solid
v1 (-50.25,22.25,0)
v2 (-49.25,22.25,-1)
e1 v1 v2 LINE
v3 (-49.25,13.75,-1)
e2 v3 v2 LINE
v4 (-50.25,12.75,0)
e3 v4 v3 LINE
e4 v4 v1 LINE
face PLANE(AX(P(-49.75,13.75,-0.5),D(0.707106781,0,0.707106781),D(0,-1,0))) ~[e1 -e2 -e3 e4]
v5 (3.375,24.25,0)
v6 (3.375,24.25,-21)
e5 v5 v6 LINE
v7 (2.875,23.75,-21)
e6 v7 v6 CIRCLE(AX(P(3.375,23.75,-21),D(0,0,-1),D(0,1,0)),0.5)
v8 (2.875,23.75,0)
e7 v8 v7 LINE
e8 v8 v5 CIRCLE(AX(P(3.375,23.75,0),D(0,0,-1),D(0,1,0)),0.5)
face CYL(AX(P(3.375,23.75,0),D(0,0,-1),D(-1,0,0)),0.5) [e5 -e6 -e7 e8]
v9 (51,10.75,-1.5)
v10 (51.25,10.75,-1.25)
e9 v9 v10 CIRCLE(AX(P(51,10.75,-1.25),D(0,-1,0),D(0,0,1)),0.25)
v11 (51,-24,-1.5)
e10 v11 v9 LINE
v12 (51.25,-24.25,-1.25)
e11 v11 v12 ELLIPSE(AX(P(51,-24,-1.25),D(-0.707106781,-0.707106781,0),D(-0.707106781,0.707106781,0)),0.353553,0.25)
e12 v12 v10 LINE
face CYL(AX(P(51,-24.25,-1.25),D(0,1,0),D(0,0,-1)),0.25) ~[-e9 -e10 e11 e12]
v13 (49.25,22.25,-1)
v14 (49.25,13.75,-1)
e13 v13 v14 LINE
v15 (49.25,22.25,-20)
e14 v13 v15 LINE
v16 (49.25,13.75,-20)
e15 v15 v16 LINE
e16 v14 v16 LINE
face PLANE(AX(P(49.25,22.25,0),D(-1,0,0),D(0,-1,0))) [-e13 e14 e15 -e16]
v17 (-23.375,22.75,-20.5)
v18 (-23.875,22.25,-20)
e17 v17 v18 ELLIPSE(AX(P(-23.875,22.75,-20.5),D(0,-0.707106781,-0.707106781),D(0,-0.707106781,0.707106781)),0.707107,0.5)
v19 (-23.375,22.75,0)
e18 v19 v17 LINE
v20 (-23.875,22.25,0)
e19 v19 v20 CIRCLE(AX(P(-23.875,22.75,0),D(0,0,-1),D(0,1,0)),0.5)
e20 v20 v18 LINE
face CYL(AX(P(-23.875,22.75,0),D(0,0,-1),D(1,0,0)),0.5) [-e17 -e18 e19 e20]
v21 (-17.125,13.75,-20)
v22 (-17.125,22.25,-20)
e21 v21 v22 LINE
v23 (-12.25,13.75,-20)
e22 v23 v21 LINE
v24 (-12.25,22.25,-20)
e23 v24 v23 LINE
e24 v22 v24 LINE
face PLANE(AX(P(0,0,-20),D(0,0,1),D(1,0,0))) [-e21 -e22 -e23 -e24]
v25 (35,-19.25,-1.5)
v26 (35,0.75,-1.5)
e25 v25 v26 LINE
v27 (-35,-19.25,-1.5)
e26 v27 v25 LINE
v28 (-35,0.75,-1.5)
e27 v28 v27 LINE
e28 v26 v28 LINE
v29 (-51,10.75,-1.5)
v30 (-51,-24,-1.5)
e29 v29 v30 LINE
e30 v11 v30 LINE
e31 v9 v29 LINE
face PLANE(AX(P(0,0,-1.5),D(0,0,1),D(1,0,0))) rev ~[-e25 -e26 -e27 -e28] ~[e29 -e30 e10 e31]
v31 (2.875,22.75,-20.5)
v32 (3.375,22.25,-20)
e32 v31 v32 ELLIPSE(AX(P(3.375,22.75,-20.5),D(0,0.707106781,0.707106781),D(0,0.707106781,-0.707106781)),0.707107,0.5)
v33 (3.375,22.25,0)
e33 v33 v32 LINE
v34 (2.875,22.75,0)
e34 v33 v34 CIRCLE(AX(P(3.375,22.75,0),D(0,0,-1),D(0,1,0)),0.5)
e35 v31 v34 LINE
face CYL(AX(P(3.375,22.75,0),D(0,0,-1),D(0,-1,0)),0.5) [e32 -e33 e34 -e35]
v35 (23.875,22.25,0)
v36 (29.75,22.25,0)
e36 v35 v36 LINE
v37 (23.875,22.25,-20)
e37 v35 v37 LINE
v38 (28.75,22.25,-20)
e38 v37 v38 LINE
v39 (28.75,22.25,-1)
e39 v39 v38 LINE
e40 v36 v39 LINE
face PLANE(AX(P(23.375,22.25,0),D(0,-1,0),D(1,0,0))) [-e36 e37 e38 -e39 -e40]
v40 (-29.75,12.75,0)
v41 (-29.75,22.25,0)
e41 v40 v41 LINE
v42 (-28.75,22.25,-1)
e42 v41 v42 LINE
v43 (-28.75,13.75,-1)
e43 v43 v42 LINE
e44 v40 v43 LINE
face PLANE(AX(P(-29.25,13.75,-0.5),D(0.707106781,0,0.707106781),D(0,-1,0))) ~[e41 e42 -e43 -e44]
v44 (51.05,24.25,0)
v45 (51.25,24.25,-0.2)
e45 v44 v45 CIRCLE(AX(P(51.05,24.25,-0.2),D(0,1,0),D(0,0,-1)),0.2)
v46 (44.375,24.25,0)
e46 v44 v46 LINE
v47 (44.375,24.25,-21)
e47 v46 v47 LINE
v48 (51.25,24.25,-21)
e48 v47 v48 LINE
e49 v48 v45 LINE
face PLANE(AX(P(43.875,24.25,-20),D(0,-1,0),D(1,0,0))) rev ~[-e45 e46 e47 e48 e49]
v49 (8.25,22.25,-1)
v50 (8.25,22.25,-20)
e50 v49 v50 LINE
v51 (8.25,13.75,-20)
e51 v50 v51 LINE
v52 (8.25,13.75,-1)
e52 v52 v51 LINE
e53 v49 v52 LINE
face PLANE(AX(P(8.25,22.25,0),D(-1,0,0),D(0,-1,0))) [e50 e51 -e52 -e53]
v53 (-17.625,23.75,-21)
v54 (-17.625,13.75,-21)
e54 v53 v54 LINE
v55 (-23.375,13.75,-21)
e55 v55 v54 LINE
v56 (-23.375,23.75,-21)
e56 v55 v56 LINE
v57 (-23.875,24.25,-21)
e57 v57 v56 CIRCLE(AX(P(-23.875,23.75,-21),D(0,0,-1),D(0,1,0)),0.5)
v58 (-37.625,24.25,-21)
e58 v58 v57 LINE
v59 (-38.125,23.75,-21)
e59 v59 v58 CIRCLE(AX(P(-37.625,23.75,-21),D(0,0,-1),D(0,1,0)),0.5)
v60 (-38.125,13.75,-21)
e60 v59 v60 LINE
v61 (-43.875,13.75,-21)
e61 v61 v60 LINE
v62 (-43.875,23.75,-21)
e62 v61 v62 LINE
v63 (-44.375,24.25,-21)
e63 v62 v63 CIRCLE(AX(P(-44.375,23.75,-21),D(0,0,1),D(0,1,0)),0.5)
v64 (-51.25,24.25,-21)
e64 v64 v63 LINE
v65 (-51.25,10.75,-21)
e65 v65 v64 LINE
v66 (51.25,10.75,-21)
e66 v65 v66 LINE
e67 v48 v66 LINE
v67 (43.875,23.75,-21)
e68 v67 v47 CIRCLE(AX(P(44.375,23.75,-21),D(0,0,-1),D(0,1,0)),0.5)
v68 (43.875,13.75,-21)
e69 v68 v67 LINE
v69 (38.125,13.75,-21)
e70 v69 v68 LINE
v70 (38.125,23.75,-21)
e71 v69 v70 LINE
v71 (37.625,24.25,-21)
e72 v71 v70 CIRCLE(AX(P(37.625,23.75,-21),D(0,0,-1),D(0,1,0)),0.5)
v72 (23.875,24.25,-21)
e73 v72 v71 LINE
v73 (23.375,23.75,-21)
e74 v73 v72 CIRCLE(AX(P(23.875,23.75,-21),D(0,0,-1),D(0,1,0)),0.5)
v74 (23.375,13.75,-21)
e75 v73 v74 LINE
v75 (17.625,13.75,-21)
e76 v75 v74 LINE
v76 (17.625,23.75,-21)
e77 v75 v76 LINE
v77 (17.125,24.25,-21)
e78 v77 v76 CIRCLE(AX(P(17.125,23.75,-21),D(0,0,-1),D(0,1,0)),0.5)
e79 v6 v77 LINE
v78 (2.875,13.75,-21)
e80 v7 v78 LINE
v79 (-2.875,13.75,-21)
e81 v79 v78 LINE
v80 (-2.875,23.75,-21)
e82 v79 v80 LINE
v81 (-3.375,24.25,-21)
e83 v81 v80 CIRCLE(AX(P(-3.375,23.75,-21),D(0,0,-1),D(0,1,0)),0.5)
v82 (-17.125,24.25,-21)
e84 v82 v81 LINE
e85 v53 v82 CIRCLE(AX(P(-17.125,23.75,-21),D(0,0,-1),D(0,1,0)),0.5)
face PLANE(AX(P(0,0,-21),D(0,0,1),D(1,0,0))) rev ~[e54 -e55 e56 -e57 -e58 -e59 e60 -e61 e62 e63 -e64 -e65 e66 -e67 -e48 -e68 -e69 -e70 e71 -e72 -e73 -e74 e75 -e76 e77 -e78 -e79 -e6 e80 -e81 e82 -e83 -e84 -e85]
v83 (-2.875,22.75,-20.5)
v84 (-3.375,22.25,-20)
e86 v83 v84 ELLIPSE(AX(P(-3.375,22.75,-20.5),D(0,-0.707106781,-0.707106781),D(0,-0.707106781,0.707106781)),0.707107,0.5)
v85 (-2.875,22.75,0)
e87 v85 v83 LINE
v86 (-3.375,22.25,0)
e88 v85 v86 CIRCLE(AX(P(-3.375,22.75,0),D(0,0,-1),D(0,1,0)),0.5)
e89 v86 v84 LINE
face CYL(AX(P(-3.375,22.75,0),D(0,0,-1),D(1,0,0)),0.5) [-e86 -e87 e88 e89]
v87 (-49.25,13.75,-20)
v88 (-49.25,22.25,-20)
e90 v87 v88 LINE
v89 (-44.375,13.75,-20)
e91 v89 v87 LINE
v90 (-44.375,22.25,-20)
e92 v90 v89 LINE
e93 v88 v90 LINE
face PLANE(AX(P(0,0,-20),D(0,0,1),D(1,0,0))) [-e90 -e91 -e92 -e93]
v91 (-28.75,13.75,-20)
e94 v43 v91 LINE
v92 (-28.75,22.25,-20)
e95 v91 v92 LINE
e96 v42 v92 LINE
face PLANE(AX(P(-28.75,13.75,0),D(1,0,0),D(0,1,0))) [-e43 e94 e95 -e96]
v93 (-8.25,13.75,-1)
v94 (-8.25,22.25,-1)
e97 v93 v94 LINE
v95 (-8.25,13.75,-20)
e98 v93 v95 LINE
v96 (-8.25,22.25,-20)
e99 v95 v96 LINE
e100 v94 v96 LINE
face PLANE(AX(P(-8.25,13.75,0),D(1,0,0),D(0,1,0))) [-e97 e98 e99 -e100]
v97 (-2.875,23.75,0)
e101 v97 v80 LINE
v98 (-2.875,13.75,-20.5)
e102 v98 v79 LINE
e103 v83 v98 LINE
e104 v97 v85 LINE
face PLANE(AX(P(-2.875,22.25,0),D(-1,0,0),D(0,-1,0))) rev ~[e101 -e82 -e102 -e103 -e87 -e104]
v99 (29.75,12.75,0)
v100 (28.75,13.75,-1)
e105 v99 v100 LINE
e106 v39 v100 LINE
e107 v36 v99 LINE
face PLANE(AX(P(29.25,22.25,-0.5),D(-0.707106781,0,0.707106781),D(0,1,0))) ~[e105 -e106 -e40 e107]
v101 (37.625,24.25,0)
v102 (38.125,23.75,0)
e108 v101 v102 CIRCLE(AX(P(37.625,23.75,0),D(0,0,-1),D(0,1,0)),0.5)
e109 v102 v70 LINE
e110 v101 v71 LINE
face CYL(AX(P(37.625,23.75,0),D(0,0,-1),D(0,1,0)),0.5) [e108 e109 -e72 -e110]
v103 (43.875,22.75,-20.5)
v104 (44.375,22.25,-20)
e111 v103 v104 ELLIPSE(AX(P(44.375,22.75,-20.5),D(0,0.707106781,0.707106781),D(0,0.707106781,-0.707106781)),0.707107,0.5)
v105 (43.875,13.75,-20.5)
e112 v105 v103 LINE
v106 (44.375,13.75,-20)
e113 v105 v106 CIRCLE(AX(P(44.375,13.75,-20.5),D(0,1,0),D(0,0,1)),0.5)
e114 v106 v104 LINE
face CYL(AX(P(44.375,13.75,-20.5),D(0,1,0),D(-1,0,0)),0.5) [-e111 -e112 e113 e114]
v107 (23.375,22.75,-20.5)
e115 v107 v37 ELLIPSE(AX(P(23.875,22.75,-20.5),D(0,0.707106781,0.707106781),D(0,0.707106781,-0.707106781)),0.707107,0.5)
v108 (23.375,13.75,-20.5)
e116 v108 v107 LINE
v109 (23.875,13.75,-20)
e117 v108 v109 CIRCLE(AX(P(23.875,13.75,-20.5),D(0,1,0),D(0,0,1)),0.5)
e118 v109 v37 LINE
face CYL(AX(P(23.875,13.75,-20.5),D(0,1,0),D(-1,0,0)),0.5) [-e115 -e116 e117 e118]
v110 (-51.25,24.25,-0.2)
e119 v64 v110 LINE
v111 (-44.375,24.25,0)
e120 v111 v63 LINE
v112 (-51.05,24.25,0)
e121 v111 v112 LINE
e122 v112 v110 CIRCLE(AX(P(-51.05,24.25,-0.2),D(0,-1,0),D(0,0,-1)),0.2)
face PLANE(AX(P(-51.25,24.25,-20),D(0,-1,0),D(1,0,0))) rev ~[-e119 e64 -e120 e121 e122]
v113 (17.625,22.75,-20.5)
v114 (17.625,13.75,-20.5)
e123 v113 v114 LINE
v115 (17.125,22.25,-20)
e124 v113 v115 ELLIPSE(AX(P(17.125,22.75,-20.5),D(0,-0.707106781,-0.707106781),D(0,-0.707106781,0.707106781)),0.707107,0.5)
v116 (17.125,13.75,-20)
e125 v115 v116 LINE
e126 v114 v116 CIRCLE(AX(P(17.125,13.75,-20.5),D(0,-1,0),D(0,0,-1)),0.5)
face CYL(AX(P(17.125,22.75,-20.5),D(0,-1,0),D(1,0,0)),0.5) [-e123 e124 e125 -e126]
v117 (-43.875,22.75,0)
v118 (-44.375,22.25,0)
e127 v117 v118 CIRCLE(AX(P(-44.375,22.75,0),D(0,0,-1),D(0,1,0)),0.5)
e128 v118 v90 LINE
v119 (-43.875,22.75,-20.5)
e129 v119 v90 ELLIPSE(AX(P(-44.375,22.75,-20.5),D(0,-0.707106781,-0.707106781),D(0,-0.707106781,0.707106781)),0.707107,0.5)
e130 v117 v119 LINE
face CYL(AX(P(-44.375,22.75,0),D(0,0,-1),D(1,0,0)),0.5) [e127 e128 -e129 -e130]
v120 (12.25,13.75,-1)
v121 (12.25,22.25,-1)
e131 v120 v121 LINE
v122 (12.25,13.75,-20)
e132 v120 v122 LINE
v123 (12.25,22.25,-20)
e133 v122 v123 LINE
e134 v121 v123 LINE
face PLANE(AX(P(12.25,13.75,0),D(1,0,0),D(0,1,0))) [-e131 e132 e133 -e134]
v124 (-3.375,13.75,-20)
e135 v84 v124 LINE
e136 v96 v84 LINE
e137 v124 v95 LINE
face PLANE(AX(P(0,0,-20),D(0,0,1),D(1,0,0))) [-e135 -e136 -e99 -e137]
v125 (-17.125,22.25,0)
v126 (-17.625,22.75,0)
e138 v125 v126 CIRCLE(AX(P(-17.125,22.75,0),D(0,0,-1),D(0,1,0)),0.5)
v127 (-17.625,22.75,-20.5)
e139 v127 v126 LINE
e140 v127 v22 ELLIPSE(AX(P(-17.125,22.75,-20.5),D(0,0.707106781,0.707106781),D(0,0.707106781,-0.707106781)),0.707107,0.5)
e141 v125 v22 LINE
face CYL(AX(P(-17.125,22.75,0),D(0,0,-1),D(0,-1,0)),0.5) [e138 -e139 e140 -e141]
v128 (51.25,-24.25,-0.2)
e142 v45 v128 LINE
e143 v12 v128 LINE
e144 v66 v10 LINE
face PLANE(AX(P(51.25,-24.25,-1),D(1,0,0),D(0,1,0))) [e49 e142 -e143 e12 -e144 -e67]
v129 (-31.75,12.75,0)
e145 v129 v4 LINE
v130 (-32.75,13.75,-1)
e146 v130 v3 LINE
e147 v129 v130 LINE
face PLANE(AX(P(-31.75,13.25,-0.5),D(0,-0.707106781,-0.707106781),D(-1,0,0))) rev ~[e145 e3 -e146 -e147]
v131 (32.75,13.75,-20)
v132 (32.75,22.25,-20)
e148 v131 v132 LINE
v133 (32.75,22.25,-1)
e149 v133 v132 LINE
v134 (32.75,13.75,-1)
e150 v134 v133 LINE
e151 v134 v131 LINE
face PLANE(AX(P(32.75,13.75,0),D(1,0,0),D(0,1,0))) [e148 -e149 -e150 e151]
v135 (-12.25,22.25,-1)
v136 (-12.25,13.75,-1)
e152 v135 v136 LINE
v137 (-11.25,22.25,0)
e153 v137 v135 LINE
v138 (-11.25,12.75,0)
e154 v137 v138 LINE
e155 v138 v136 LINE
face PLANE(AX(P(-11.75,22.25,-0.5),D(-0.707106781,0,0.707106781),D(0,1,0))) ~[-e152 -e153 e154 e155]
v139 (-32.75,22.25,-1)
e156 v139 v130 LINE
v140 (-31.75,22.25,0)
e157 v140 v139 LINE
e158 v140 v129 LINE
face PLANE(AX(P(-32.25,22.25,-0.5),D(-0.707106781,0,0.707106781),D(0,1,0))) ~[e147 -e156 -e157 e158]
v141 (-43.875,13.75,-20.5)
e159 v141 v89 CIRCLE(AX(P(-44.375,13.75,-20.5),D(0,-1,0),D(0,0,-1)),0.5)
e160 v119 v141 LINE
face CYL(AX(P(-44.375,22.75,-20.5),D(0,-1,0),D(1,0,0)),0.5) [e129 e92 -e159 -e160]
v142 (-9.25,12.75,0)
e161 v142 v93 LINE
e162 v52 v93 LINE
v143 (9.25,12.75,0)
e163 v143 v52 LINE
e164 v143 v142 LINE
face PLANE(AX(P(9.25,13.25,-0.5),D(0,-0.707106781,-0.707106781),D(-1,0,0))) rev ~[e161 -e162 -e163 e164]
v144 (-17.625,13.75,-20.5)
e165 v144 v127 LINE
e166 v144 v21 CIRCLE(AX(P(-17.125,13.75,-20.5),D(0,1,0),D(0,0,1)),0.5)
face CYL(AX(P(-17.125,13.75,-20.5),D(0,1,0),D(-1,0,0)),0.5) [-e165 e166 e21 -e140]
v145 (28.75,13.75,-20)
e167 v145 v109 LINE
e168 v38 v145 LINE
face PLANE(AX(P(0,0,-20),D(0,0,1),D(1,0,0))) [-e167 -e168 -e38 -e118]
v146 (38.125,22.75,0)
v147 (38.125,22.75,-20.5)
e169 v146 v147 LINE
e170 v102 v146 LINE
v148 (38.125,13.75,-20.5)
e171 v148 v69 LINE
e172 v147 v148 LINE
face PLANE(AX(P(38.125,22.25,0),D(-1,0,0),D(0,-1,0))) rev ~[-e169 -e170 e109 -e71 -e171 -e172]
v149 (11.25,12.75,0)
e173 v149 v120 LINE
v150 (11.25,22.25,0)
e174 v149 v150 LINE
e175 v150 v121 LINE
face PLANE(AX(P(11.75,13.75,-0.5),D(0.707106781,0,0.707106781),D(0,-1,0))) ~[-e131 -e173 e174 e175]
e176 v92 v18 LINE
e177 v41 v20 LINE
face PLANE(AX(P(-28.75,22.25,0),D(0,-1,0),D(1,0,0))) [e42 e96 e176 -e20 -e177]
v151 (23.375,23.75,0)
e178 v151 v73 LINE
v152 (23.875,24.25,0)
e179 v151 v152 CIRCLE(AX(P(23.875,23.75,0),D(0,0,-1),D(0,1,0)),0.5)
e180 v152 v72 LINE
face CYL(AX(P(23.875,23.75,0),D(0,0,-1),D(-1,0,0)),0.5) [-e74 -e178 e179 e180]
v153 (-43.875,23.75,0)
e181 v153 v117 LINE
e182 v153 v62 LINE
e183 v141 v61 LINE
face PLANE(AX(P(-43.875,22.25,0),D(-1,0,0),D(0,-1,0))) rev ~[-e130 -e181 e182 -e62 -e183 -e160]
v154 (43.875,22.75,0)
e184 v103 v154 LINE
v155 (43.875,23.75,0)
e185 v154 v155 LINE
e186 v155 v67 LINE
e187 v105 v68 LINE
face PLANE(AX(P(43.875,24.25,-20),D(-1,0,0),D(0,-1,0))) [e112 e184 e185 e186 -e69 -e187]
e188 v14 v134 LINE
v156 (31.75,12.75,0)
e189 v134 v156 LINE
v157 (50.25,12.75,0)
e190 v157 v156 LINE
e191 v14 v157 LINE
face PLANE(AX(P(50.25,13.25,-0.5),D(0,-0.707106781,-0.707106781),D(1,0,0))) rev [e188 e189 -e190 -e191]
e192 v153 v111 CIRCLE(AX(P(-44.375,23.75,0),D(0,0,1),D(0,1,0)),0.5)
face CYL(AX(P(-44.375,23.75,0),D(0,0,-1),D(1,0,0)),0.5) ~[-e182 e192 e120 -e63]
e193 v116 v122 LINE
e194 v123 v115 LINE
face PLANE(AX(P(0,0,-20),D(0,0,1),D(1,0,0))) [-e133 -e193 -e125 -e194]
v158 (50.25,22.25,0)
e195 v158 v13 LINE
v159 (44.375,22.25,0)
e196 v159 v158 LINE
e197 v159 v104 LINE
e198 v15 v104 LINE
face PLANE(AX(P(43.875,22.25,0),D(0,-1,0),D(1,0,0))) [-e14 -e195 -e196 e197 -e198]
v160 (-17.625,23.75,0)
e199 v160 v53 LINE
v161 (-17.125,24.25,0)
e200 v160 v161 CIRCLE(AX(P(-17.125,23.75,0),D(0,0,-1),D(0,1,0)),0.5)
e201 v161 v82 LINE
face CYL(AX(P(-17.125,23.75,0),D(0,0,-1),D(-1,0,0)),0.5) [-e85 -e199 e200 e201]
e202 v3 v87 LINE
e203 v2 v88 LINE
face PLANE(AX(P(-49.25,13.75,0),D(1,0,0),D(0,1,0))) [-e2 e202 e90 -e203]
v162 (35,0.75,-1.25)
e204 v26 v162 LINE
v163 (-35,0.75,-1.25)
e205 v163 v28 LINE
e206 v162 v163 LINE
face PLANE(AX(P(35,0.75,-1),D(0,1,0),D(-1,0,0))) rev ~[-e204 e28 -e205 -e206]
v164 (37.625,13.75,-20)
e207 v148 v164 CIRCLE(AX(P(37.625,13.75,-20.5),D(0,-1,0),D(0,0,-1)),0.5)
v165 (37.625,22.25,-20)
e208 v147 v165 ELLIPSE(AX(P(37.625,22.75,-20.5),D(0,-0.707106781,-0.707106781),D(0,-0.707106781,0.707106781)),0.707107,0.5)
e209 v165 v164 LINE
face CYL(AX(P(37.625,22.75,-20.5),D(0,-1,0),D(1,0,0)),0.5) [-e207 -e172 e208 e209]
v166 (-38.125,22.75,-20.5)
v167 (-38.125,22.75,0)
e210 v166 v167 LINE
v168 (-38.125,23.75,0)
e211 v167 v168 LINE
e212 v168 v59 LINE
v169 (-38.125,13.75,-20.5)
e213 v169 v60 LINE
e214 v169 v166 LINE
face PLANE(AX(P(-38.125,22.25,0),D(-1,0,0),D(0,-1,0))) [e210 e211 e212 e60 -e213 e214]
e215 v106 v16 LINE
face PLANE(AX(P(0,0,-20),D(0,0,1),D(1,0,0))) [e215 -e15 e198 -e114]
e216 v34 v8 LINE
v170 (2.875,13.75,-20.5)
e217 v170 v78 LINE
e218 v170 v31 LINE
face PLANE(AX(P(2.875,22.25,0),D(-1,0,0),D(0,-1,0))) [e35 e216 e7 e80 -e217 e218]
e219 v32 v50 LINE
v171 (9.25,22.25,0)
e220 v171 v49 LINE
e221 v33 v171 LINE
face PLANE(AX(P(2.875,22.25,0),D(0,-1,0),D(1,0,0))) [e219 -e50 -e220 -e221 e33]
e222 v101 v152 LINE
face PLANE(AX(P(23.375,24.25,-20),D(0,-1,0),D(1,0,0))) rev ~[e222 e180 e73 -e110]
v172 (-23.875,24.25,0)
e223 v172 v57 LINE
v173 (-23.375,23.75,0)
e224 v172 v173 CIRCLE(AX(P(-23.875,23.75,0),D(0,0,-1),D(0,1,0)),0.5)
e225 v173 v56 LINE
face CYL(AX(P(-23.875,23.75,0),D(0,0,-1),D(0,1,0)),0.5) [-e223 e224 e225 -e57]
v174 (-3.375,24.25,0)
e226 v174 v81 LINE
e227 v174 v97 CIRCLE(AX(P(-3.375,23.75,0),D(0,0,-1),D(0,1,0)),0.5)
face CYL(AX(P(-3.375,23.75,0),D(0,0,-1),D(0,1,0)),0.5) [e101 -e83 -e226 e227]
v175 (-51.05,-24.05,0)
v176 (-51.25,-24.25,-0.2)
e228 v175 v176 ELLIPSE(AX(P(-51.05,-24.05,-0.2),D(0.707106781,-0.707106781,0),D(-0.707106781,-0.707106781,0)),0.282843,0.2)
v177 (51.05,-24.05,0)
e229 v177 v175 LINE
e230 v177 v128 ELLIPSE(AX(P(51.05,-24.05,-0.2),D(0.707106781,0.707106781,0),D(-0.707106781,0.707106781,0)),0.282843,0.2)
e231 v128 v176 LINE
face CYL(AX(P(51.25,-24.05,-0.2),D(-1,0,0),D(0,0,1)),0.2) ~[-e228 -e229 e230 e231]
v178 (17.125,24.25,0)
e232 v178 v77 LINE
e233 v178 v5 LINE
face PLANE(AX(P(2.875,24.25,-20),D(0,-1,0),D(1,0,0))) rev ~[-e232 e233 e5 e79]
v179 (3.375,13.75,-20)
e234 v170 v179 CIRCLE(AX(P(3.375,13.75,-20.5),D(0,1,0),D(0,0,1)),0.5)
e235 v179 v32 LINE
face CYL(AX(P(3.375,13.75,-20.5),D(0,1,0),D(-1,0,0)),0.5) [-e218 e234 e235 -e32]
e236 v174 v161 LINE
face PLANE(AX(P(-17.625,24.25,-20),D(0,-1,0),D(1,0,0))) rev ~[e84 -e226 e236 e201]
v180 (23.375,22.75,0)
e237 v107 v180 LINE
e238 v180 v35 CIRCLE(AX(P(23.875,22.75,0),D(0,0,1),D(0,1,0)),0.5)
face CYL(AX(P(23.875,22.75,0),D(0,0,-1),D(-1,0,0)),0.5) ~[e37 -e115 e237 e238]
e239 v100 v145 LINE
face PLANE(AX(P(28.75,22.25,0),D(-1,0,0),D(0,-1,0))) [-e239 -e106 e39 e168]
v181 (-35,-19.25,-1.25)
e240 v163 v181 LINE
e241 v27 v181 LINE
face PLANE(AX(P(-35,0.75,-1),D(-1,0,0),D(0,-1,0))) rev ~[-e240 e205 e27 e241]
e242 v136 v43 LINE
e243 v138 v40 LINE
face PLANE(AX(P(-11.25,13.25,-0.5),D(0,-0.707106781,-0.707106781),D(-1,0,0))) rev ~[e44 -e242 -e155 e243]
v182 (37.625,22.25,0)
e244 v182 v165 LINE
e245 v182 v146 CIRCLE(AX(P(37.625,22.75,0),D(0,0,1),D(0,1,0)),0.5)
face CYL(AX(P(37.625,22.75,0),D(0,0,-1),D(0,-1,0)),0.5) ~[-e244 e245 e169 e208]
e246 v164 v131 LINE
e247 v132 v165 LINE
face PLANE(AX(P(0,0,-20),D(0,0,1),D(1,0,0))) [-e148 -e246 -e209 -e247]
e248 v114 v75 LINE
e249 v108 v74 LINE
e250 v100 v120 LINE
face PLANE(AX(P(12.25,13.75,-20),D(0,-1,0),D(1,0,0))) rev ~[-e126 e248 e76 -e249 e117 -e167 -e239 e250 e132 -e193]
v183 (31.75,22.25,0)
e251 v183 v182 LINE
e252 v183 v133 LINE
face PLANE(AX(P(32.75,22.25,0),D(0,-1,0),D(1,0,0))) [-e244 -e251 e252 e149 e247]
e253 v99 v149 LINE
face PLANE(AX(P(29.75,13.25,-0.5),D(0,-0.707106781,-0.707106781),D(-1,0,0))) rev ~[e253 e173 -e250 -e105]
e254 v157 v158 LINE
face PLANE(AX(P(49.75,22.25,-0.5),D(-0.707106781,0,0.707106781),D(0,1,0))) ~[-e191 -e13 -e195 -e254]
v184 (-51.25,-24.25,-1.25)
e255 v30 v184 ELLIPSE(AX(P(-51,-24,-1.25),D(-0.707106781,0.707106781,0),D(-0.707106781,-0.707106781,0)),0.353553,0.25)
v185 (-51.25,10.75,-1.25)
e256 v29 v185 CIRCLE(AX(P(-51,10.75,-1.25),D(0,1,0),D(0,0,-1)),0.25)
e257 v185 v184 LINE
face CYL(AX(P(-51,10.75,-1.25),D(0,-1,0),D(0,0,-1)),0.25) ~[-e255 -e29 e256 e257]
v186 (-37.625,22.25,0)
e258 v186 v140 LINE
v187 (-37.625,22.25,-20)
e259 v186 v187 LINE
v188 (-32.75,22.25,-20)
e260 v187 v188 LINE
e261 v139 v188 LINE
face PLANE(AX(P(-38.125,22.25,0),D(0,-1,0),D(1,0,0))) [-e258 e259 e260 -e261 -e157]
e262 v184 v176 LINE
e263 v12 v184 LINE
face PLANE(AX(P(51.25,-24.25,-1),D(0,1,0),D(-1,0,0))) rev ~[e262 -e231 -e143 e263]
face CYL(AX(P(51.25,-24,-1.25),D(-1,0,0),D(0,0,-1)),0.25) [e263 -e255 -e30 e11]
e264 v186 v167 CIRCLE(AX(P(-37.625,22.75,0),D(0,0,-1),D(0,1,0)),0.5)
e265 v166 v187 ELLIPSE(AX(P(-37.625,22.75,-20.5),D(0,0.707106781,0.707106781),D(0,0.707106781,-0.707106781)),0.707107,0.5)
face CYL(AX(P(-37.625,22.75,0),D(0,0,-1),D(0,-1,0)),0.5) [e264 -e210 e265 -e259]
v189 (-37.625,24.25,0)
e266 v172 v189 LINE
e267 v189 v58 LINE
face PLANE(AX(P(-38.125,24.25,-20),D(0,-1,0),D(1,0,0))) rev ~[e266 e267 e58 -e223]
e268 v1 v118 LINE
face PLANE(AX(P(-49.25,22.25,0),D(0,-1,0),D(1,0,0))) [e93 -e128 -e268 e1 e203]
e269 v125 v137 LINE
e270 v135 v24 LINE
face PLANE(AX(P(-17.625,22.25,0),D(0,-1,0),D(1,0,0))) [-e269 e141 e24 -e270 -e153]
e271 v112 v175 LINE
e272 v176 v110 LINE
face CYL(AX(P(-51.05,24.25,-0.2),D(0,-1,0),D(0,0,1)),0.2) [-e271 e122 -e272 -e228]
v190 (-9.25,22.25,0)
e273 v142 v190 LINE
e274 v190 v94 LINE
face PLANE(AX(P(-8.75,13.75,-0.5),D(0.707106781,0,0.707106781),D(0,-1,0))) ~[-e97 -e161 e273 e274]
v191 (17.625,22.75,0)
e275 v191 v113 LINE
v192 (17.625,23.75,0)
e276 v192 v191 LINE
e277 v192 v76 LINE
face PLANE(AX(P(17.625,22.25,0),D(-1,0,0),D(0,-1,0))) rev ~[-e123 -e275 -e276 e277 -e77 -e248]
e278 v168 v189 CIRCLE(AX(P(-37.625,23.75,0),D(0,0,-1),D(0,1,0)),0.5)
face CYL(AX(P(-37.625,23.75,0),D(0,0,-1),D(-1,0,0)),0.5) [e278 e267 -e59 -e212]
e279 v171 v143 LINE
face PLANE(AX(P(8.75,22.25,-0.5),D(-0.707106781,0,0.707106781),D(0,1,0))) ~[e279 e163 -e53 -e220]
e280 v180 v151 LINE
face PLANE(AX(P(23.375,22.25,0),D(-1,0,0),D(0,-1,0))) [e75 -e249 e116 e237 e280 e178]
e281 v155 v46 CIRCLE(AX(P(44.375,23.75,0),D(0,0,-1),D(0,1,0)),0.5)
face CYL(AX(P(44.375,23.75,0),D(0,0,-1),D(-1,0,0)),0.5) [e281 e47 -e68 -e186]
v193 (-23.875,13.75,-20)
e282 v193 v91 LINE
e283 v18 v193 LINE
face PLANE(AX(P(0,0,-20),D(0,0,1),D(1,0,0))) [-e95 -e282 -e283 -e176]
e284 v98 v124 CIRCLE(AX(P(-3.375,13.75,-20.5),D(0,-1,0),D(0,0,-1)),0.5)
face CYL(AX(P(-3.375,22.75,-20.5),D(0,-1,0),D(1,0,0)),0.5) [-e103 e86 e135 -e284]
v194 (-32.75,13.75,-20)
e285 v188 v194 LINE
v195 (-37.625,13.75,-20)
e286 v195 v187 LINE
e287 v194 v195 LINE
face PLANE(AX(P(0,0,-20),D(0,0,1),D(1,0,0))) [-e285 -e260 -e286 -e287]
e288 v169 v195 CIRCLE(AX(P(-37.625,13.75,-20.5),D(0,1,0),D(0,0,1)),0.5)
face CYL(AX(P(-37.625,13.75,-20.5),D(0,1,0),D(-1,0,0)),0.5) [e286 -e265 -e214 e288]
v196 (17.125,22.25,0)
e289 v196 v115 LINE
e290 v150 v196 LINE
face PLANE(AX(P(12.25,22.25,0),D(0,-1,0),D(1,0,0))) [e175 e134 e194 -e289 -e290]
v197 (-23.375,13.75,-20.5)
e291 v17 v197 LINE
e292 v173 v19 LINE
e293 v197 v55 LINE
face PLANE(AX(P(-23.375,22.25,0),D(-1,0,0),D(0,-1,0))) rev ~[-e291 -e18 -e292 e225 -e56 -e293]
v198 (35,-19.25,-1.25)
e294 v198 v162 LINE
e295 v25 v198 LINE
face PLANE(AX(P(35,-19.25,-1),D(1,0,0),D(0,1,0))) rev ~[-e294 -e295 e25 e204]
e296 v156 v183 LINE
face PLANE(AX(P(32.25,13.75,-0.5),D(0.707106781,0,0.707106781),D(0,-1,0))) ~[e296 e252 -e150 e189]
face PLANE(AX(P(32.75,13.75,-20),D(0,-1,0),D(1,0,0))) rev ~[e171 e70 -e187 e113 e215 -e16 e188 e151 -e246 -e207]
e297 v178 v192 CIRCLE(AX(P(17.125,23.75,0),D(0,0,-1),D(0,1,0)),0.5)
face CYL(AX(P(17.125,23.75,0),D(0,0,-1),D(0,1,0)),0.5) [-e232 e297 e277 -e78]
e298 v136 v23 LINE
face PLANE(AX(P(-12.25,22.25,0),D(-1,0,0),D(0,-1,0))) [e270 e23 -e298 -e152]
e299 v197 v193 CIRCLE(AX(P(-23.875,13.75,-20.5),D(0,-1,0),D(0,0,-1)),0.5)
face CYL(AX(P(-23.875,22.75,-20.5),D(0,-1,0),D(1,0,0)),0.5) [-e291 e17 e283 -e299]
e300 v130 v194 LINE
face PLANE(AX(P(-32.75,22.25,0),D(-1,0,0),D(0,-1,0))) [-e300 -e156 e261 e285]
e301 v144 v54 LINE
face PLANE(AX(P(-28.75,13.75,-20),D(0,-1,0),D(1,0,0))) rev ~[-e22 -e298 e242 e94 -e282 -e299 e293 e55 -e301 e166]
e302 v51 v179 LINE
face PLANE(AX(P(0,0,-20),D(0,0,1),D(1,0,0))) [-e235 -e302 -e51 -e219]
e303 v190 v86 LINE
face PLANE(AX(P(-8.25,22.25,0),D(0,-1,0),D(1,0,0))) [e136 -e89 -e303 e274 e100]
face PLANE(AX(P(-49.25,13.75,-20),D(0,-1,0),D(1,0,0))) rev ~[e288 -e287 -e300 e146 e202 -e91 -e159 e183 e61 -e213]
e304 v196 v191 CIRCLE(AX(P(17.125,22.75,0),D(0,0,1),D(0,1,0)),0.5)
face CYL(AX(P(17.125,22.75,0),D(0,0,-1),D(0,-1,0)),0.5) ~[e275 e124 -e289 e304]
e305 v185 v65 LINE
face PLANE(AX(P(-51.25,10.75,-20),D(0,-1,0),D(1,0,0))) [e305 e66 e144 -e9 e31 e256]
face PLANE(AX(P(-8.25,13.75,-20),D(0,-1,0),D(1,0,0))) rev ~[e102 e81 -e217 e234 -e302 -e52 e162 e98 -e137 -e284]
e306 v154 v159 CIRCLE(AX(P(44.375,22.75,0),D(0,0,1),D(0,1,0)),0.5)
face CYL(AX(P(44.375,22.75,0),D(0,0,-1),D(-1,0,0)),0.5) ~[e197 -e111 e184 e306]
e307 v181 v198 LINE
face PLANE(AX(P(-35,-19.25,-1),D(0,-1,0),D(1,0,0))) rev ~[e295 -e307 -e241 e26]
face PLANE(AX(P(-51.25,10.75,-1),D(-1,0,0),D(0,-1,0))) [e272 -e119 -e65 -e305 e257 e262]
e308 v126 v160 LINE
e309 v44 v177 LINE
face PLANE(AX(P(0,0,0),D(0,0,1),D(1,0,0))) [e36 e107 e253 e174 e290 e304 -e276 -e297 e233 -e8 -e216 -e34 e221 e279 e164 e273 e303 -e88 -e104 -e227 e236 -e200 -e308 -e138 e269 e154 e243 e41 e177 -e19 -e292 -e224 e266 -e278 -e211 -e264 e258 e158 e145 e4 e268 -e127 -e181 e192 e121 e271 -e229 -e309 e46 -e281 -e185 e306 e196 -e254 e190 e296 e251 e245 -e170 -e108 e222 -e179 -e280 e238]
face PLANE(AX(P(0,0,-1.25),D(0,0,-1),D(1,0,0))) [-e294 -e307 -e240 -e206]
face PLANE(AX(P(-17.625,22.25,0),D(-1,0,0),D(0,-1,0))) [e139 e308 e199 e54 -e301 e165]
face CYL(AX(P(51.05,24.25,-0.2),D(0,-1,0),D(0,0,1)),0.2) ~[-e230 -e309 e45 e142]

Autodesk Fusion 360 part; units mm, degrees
sketch "Esquisse1" plane through (0, 0, 0) normal (0, 0, 1) x (1, 0, 0)
  line L0 (51.25, -24.25) -> (-51.25, -24.25)
  line L1 (-51.25, -24.25) -> (-51.25, 24.25)
  line L2 (-51.25, 24.25) -> (51.25, 24.25)
  line L3 (51.25, 24.25) -> (51.25, -24.25)
  line L4 (51.25, -24.25) -> (-51.25, 24.25) construction
  line L5 (-51.25, -24.25) -> (51.25, 24.25) construction
  line L6 (-51.25, 10.75) -> (51.25, 10.75)
  line L7 (-49.25, 22.25) -> (-32.75, 22.25)
  line L8 (-32.75, 22.25) -> (-32.75, 13.75)
  line L9 (-32.75, 13.75) -> (-49.25, 13.75)
  line L10 (-49.25, 13.75) -> (-49.25, 22.25)
  line L11 (-28.75, 22.25) -> (-12.25, 22.25)
  line L12 (-12.25, 22.25) -> (-12.25, 13.75)
  line L13 (-12.25, 13.75) -> (-28.75, 13.75)
  line L14 (-28.75, 13.75) -> (-28.75, 22.25)
  line L15 (-8.25, 22.25) -> (8.25, 22.25)
  line L16 (8.25, 22.25) -> (8.25, 13.75)
  line L17 (8.25, 13.75) -> (-8.25, 13.75)
  line L18 (-8.25, 13.75) -> (-8.25, 22.25)
  line L19 (12.25, 22.25) -> (28.75, 22.25)
  line L20 (28.75, 22.25) -> (28.75, 13.75)
  line L21 (28.75, 13.75) -> (12.25, 13.75)
  line L22 (12.25, 13.75) -> (12.25, 22.25)
  line L23 (32.75, 22.25) -> (49.25, 22.25)
  line L24 (49.25, 22.25) -> (49.25, 13.75)
  line L25 (49.25, 13.75) -> (32.75, 13.75)
  line L26 (32.75, 13.75) -> (32.75, 22.25)
  line L27 (-43.875, 24.25) -> (-43.875, 22.25)
  line L28 (-38.125, 24.25) -> (-38.125, 22.25)
  line L29 (-41, 22.25) -> (-41, 13.75) construction
  line L30 (-20.5, 22.25) -> (-20.5, 13.75) construction
  line L31 (0, 22.25) -> (0, 13.75) construction
  line L32 (20.5, 22.25) -> (20.5, 13.75) construction
  line L33 (41, 22.25) -> (41, 13.75) construction
  line L34 (38.125, 24.25) -> (38.125, 22.25)
  line L35 (43.875, 24.25) -> (43.875, 22.25)
  line L36 (17.625, 24.25) -> (17.625, 22.25)
  line L37 (23.375, 24.25) -> (23.375, 22.25)
  line L38 (-2.875, 24.25) -> (-2.875, 22.25)
  line L39 (2.875, 24.25) -> (2.875, 22.25)
  line L40 (-23.375, 24.25) -> (-23.375, 22.25)
  line L41 (-17.625, 24.25) -> (-17.625, 22.25)
  line L42 (-43.875, 22.25) -> (-43.875, 13.75)
  line L43 (-38.125, 22.25) -> (-38.125, 13.75)
  line L44 (-23.375, 22.25) -> (-23.375, 13.75)
  line L45 (-17.625, 22.25) -> (-17.625, 13.75)
  line L46 (-2.875, 22.25) -> (-2.875, 13.75)
  line L47 (2.875, 22.25) -> (2.875, 13.75)
  line L48 (17.625, 22.25) -> (17.625, 13.75)
  line L49 (23.375, 22.25) -> (23.375, 13.75)
  line L50 (38.125, 22.25) -> (38.125, 13.75)
  line L51 (43.875, 22.25) -> (43.875, 13.75)
  dimension "d4" = 35
  dimension "d28" = 16.5
  dimension "d29" = 8.5
  dimension "d30" = 16.5
  dimension "d31" = 8.5
  dimension "d32" = 16.5
  dimension "d33" = 8.5
  dimension "d34" = 16.5
  dimension "d35" = 8.5
  dimension "d36" = 16.5
  dimension "d37" = 8.5
  dimension "d38" = 2
  dimension "d39" = 3
  dimension "d40" = 2
  dimension "d41" = 2
  dimension "d42" = 4
  dimension "d43" = 4
  dimension "d44" = 4
  dimension "d45" = 4
  dimension "d56" = 5.75
  dimension "d57" = 5.75
  dimension "d58" = 5.75
  dimension "d59" = 5.75
  dimension "d60" = 5.75
extrude "Extrusion1" add sketch "Esquisse1" against normal blind 3 contours L0 L1 L3 L6 makes body 1
extrude "Extrusion2" add 1 faces at (17.0833, -12.5833, -3) along direction (0, 0, -1) blind 2 on bodies 1 bodies 1
extrude "Extrusion3" cut 1 faces at (17.0833, -12.5833, -5) along direction (0, 0, 1) blind 4 on bodies 1 bodies 1
extrude "Extrusion4" add sketch "Esquisse1" along normal blind 12 separate body contours L1 L2 L3 L6 L7 L8 L9 L10 L11 L12 L13 L14 L15 L16 L17 L18 L19 L20 L21 L22 L23 L24 L25 L26 L27 L28 L34 L35 L36 L37 L38 L39 L40 L41 | L2 L23 L34 L35 | L2 L7 L27 L28 | L2 L19 L36 L37 | L2 L11 L40 L41 | L2 L15 L38 L39 makes body 2
extrude "Extrusion5" add sketch "Esquisse1" against normal blind 20 contours L1 L2 L3 L6 L7 L8 L9 L10 L11 L12 L13 L14 L15 L16 L17 L18 L19 L20 L21 L22 L23 L24 L25 L26 L27 L28 L34 L35 L36 L37 L38 L39 L40 L41 | L2 L23 L34 L35 | L2 L7 L27 L28 | L2 L19 L36 L37 | L2 L11 L40 L41 | L2 L15 L38 L39 bodies 1 2
extrude "Extrusion6" cut sketch "Esquisse1" along normal blind 12 and the other way blind 20 contours L2 L23 L34 L35 bodies 1
extrude "Extrusion7" cut sketch "Esquisse1" along normal blind 12 and the other way blind 20 contours L2 L7 L27 L28 | L2 L19 L36 L37 | L2 L11 L40 L41 | L2 L15 L38 L39 bodies 1
extrude "Extrusion8" cut 1 faces at (30.0833, 19.4167, 12) along direction (0, 0, -1) blind 12 on bodies 1 bodies 1
extrude "Extrusion9" add sketch "Esquisse1" against normal blind 21 contours L23 L24 L25 L51 bodies 1
extrude "Extrusion10" cut sketch "Esquisse1" against normal blind 20 contours L23 L24 L25 L51 bodies 1
extrude "Extrusion11" add 1 faces at (30.0833, 19.4167, -20) along direction (0, 0, -1) blind 1 on bodies 1 bodies 1
extrude "Extrusion12" add sketch "Esquisse1" against normal blind 21 contours L23 L25 L26 L50 bodies 1
extrude "Extrusion13" cut sketch "Esquisse1" against normal blind 20 contours L23 L25 L26 L50 bodies 1
extrude "Extrusion14" add sketch "Esquisse1" against normal blind 21 contours L19 L20 L21 L49 bodies 1
extrude "Extrusion15" cut sketch "Esquisse1" against normal blind 20 contours L19 L20 L21 L49 bodies 1
extrude "Extrusion16" add sketch "Esquisse1" against normal blind 21 contours L19 L21 L22 L48 bodies 1
extrude "Extrusion17" cut sketch "Esquisse1" against normal blind 20 contours L19 L21 L22 L48 bodies 1
extrude "Extrusion18" add sketch "Esquisse1" against normal blind 21 contours L15 L16 L17 L47 bodies 1
extrude "Extrusion19" cut sketch "Esquisse1" against normal blind 20 contours L15 L16 L17 L47 bodies 1
extrude "Extrusion20" add sketch "Esquisse1" against normal blind 21 contours L15 L17 L18 L46 bodies 1
extrude "Extrusion21" cut sketch "Esquisse1" against normal blind 20 contours L15 L17 L18 L46 bodies 1
extrude "Extrusion22" add sketch "Esquisse1" against normal blind 21 contours L11 L12 L13 L45 bodies 1
extrude "Extrusion23" cut sketch "Esquisse1" against normal blind 20 contours L11 L12 L13 L45 bodies 1
extrude "Extrusion24" add sketch "Esquisse1" against normal blind 21 contours L11 L13 L14 L44 bodies 1
extrude "Extrusion25" cut sketch "Esquisse1" against normal blind 20 contours L11 L13 L14 L44 bodies 1
extrude "Extrusion26" add sketch "Esquisse1" against normal blind 21 contours L7 L8 L9 L43 bodies 1
extrude "Extrusion27" cut sketch "Esquisse1" against normal blind 20 contours L7 L8 L9 L43 bodies 1
extrude "Extrusion28" add sketch "Esquisse1" against normal blind 21 contours L7 L9 L10 L42 bodies 1
extrude "Extrusion29" cut sketch "Esquisse1" against normal blind 20 contours L7 L9 L10 L42 bodies 1
fillet "Congé1" radius 0.5 10 edges at (43.875, 24.25, -10.5) (38.125, 24.25, -10.5) (23.375, 24.25, -10.5) (17.625, 24.25, -10.5) (2.875, 24.25, -10.5) (-2.875, 24.25, -10.5) (-17.625, 24.25, -10.5) (-23.375, 24.25, -10.5) (-38.125, 24.25, -10.5) (-43.875, 24.25, -10.5) on bodies 1
fillet "Congé2" radius 0.5 10 edges at (43.875, 22.25, -10) (38.125, 22.25, -10) (17.625, 22.25, -10) (-2.875, 22.25, -10) (23.375, 22.25, -10) (2.875, 22.25, -10) (-17.625, 22.25, -10) (-38.125, 22.25, -10) (-23.375, 22.25, -10) (-43.875, 22.25, -10) on bodies 1
fillet "Congé3" radius 0.2 6 edges at (-51.25, 0, 0) (0, -24.25, 0) (0, -24.25, -1) (51.25, 0, 0) (51.25, -6.75, -1) (-51.25, -6.75, -1) on bodies 1
chamfer "Chanfrein1" distance 1 angle 45 10 edges at (32.75, 18, 0) (49.25, 18, 0) (12.25, 18, 0) (28.75, 18, 0) (-8.25, 18, 0) (8.25, 18, 0) (-49.25, 18, 0) (-32.75, 18, 0) (-28.75, 18, 0) (-12.25, 18, 0) on bodies 1
fillet "Congé4" radius 0.5 10 edges at (38.125, 18.25, -20) (17.625, 18.25, -20) (-2.875, 18.25, -20) (-23.375, 18.25, -20) (-43.875, 18.25, -20) (43.875, 18.25, -20) (23.375, 18.25, -20) (2.875, 18.25, -20) (-17.625, 18.25, -20) (-38.125, 18.25, -20) on bodies 1
chamfer "Chanfrein2" distance 1 angle 45 5 edges at (41, 13.75, 0) (20.5, 13.75, 0) (0, 13.75, 0) (-20.5, 13.75, 0) (-41, 13.75, 0) on bodies 1
sketch "Esquisse2" plane through (0, 0, -1) normal (0, 0, -1) x (1, 0, 0)
  line L0 (51.05, -10.75) -> (51.05, 24.05)
  line L1 (51.05, 24.05) -> (-51.05, 24.05)
  line L2 (-51.05, 24.05) -> (-51.05, -10.75)
  line L3 (-51.05, -10.75) -> (51.05, -10.75)
  line L4 (35, -0.75) -> (-35, -0.75)
  line L5 (-35, -0.75) -> (-35, 19.25)
  line L6 (-35, 19.25) -> (35, 19.25)
  line L7 (35, 19.25) -> (35, -0.75)
  line L8 (-51.25, -10.75) -> (51.25, -10.75)
  dimension "d123" = 20
  dimension "d124" = 70
  dimension "d125" = 16.05
  dimension "d126" = 10
extrude "Extrusion30" cut sketch "Esquisse2" against normal blind 0.25 contours L4 L5 L6 L7 bodies 1
delete_face "DeleteFace1" 1 faces at (51.0967, -12.4755, -0.9945) on bodies 1
delete_face "DeleteFace2" 1 faces at (17.0884, -24.2407, -0.8601) on bodies 1
delete_face "DeleteFace3" 1 faces at (-51.0709, -12.5833, -0.9989) on bodies 1
extrude "Extrusion31" add 1 faces at (45.8333, -4.25, -1) along direction (0, 0, -1) blind 0.5 on bodies 1 bodies 1
extrude "Extrusion32" add 1 faces at (11.6667, -5.9167, -0.75) along direction (0, 0, -1) blind 0.5 on bodies 1 bodies 1
fillet "Congé5" radius 0.25 3 edges at (-51.25, -6.75, -1.5) (0, -24.25, -1.5) (51.25, -6.75, -1.5) on bodies 1
equation "d30 = d28"
equation "d31 = d29"
equation "d32 = d28"
equation "d33 = d29"
equation "d34 = d28"
equation "d35 = d29"
equation "d36 = d28"
equation "d37 = d29"
equation "d41 = d40"
equation "d43 = d42"
equation "d44 = d42"
equation "d45 = d42"
equation "d57 = d56"
equation "d58 = d56"
equation "d59 = d56"
equation "d60 = d56"
